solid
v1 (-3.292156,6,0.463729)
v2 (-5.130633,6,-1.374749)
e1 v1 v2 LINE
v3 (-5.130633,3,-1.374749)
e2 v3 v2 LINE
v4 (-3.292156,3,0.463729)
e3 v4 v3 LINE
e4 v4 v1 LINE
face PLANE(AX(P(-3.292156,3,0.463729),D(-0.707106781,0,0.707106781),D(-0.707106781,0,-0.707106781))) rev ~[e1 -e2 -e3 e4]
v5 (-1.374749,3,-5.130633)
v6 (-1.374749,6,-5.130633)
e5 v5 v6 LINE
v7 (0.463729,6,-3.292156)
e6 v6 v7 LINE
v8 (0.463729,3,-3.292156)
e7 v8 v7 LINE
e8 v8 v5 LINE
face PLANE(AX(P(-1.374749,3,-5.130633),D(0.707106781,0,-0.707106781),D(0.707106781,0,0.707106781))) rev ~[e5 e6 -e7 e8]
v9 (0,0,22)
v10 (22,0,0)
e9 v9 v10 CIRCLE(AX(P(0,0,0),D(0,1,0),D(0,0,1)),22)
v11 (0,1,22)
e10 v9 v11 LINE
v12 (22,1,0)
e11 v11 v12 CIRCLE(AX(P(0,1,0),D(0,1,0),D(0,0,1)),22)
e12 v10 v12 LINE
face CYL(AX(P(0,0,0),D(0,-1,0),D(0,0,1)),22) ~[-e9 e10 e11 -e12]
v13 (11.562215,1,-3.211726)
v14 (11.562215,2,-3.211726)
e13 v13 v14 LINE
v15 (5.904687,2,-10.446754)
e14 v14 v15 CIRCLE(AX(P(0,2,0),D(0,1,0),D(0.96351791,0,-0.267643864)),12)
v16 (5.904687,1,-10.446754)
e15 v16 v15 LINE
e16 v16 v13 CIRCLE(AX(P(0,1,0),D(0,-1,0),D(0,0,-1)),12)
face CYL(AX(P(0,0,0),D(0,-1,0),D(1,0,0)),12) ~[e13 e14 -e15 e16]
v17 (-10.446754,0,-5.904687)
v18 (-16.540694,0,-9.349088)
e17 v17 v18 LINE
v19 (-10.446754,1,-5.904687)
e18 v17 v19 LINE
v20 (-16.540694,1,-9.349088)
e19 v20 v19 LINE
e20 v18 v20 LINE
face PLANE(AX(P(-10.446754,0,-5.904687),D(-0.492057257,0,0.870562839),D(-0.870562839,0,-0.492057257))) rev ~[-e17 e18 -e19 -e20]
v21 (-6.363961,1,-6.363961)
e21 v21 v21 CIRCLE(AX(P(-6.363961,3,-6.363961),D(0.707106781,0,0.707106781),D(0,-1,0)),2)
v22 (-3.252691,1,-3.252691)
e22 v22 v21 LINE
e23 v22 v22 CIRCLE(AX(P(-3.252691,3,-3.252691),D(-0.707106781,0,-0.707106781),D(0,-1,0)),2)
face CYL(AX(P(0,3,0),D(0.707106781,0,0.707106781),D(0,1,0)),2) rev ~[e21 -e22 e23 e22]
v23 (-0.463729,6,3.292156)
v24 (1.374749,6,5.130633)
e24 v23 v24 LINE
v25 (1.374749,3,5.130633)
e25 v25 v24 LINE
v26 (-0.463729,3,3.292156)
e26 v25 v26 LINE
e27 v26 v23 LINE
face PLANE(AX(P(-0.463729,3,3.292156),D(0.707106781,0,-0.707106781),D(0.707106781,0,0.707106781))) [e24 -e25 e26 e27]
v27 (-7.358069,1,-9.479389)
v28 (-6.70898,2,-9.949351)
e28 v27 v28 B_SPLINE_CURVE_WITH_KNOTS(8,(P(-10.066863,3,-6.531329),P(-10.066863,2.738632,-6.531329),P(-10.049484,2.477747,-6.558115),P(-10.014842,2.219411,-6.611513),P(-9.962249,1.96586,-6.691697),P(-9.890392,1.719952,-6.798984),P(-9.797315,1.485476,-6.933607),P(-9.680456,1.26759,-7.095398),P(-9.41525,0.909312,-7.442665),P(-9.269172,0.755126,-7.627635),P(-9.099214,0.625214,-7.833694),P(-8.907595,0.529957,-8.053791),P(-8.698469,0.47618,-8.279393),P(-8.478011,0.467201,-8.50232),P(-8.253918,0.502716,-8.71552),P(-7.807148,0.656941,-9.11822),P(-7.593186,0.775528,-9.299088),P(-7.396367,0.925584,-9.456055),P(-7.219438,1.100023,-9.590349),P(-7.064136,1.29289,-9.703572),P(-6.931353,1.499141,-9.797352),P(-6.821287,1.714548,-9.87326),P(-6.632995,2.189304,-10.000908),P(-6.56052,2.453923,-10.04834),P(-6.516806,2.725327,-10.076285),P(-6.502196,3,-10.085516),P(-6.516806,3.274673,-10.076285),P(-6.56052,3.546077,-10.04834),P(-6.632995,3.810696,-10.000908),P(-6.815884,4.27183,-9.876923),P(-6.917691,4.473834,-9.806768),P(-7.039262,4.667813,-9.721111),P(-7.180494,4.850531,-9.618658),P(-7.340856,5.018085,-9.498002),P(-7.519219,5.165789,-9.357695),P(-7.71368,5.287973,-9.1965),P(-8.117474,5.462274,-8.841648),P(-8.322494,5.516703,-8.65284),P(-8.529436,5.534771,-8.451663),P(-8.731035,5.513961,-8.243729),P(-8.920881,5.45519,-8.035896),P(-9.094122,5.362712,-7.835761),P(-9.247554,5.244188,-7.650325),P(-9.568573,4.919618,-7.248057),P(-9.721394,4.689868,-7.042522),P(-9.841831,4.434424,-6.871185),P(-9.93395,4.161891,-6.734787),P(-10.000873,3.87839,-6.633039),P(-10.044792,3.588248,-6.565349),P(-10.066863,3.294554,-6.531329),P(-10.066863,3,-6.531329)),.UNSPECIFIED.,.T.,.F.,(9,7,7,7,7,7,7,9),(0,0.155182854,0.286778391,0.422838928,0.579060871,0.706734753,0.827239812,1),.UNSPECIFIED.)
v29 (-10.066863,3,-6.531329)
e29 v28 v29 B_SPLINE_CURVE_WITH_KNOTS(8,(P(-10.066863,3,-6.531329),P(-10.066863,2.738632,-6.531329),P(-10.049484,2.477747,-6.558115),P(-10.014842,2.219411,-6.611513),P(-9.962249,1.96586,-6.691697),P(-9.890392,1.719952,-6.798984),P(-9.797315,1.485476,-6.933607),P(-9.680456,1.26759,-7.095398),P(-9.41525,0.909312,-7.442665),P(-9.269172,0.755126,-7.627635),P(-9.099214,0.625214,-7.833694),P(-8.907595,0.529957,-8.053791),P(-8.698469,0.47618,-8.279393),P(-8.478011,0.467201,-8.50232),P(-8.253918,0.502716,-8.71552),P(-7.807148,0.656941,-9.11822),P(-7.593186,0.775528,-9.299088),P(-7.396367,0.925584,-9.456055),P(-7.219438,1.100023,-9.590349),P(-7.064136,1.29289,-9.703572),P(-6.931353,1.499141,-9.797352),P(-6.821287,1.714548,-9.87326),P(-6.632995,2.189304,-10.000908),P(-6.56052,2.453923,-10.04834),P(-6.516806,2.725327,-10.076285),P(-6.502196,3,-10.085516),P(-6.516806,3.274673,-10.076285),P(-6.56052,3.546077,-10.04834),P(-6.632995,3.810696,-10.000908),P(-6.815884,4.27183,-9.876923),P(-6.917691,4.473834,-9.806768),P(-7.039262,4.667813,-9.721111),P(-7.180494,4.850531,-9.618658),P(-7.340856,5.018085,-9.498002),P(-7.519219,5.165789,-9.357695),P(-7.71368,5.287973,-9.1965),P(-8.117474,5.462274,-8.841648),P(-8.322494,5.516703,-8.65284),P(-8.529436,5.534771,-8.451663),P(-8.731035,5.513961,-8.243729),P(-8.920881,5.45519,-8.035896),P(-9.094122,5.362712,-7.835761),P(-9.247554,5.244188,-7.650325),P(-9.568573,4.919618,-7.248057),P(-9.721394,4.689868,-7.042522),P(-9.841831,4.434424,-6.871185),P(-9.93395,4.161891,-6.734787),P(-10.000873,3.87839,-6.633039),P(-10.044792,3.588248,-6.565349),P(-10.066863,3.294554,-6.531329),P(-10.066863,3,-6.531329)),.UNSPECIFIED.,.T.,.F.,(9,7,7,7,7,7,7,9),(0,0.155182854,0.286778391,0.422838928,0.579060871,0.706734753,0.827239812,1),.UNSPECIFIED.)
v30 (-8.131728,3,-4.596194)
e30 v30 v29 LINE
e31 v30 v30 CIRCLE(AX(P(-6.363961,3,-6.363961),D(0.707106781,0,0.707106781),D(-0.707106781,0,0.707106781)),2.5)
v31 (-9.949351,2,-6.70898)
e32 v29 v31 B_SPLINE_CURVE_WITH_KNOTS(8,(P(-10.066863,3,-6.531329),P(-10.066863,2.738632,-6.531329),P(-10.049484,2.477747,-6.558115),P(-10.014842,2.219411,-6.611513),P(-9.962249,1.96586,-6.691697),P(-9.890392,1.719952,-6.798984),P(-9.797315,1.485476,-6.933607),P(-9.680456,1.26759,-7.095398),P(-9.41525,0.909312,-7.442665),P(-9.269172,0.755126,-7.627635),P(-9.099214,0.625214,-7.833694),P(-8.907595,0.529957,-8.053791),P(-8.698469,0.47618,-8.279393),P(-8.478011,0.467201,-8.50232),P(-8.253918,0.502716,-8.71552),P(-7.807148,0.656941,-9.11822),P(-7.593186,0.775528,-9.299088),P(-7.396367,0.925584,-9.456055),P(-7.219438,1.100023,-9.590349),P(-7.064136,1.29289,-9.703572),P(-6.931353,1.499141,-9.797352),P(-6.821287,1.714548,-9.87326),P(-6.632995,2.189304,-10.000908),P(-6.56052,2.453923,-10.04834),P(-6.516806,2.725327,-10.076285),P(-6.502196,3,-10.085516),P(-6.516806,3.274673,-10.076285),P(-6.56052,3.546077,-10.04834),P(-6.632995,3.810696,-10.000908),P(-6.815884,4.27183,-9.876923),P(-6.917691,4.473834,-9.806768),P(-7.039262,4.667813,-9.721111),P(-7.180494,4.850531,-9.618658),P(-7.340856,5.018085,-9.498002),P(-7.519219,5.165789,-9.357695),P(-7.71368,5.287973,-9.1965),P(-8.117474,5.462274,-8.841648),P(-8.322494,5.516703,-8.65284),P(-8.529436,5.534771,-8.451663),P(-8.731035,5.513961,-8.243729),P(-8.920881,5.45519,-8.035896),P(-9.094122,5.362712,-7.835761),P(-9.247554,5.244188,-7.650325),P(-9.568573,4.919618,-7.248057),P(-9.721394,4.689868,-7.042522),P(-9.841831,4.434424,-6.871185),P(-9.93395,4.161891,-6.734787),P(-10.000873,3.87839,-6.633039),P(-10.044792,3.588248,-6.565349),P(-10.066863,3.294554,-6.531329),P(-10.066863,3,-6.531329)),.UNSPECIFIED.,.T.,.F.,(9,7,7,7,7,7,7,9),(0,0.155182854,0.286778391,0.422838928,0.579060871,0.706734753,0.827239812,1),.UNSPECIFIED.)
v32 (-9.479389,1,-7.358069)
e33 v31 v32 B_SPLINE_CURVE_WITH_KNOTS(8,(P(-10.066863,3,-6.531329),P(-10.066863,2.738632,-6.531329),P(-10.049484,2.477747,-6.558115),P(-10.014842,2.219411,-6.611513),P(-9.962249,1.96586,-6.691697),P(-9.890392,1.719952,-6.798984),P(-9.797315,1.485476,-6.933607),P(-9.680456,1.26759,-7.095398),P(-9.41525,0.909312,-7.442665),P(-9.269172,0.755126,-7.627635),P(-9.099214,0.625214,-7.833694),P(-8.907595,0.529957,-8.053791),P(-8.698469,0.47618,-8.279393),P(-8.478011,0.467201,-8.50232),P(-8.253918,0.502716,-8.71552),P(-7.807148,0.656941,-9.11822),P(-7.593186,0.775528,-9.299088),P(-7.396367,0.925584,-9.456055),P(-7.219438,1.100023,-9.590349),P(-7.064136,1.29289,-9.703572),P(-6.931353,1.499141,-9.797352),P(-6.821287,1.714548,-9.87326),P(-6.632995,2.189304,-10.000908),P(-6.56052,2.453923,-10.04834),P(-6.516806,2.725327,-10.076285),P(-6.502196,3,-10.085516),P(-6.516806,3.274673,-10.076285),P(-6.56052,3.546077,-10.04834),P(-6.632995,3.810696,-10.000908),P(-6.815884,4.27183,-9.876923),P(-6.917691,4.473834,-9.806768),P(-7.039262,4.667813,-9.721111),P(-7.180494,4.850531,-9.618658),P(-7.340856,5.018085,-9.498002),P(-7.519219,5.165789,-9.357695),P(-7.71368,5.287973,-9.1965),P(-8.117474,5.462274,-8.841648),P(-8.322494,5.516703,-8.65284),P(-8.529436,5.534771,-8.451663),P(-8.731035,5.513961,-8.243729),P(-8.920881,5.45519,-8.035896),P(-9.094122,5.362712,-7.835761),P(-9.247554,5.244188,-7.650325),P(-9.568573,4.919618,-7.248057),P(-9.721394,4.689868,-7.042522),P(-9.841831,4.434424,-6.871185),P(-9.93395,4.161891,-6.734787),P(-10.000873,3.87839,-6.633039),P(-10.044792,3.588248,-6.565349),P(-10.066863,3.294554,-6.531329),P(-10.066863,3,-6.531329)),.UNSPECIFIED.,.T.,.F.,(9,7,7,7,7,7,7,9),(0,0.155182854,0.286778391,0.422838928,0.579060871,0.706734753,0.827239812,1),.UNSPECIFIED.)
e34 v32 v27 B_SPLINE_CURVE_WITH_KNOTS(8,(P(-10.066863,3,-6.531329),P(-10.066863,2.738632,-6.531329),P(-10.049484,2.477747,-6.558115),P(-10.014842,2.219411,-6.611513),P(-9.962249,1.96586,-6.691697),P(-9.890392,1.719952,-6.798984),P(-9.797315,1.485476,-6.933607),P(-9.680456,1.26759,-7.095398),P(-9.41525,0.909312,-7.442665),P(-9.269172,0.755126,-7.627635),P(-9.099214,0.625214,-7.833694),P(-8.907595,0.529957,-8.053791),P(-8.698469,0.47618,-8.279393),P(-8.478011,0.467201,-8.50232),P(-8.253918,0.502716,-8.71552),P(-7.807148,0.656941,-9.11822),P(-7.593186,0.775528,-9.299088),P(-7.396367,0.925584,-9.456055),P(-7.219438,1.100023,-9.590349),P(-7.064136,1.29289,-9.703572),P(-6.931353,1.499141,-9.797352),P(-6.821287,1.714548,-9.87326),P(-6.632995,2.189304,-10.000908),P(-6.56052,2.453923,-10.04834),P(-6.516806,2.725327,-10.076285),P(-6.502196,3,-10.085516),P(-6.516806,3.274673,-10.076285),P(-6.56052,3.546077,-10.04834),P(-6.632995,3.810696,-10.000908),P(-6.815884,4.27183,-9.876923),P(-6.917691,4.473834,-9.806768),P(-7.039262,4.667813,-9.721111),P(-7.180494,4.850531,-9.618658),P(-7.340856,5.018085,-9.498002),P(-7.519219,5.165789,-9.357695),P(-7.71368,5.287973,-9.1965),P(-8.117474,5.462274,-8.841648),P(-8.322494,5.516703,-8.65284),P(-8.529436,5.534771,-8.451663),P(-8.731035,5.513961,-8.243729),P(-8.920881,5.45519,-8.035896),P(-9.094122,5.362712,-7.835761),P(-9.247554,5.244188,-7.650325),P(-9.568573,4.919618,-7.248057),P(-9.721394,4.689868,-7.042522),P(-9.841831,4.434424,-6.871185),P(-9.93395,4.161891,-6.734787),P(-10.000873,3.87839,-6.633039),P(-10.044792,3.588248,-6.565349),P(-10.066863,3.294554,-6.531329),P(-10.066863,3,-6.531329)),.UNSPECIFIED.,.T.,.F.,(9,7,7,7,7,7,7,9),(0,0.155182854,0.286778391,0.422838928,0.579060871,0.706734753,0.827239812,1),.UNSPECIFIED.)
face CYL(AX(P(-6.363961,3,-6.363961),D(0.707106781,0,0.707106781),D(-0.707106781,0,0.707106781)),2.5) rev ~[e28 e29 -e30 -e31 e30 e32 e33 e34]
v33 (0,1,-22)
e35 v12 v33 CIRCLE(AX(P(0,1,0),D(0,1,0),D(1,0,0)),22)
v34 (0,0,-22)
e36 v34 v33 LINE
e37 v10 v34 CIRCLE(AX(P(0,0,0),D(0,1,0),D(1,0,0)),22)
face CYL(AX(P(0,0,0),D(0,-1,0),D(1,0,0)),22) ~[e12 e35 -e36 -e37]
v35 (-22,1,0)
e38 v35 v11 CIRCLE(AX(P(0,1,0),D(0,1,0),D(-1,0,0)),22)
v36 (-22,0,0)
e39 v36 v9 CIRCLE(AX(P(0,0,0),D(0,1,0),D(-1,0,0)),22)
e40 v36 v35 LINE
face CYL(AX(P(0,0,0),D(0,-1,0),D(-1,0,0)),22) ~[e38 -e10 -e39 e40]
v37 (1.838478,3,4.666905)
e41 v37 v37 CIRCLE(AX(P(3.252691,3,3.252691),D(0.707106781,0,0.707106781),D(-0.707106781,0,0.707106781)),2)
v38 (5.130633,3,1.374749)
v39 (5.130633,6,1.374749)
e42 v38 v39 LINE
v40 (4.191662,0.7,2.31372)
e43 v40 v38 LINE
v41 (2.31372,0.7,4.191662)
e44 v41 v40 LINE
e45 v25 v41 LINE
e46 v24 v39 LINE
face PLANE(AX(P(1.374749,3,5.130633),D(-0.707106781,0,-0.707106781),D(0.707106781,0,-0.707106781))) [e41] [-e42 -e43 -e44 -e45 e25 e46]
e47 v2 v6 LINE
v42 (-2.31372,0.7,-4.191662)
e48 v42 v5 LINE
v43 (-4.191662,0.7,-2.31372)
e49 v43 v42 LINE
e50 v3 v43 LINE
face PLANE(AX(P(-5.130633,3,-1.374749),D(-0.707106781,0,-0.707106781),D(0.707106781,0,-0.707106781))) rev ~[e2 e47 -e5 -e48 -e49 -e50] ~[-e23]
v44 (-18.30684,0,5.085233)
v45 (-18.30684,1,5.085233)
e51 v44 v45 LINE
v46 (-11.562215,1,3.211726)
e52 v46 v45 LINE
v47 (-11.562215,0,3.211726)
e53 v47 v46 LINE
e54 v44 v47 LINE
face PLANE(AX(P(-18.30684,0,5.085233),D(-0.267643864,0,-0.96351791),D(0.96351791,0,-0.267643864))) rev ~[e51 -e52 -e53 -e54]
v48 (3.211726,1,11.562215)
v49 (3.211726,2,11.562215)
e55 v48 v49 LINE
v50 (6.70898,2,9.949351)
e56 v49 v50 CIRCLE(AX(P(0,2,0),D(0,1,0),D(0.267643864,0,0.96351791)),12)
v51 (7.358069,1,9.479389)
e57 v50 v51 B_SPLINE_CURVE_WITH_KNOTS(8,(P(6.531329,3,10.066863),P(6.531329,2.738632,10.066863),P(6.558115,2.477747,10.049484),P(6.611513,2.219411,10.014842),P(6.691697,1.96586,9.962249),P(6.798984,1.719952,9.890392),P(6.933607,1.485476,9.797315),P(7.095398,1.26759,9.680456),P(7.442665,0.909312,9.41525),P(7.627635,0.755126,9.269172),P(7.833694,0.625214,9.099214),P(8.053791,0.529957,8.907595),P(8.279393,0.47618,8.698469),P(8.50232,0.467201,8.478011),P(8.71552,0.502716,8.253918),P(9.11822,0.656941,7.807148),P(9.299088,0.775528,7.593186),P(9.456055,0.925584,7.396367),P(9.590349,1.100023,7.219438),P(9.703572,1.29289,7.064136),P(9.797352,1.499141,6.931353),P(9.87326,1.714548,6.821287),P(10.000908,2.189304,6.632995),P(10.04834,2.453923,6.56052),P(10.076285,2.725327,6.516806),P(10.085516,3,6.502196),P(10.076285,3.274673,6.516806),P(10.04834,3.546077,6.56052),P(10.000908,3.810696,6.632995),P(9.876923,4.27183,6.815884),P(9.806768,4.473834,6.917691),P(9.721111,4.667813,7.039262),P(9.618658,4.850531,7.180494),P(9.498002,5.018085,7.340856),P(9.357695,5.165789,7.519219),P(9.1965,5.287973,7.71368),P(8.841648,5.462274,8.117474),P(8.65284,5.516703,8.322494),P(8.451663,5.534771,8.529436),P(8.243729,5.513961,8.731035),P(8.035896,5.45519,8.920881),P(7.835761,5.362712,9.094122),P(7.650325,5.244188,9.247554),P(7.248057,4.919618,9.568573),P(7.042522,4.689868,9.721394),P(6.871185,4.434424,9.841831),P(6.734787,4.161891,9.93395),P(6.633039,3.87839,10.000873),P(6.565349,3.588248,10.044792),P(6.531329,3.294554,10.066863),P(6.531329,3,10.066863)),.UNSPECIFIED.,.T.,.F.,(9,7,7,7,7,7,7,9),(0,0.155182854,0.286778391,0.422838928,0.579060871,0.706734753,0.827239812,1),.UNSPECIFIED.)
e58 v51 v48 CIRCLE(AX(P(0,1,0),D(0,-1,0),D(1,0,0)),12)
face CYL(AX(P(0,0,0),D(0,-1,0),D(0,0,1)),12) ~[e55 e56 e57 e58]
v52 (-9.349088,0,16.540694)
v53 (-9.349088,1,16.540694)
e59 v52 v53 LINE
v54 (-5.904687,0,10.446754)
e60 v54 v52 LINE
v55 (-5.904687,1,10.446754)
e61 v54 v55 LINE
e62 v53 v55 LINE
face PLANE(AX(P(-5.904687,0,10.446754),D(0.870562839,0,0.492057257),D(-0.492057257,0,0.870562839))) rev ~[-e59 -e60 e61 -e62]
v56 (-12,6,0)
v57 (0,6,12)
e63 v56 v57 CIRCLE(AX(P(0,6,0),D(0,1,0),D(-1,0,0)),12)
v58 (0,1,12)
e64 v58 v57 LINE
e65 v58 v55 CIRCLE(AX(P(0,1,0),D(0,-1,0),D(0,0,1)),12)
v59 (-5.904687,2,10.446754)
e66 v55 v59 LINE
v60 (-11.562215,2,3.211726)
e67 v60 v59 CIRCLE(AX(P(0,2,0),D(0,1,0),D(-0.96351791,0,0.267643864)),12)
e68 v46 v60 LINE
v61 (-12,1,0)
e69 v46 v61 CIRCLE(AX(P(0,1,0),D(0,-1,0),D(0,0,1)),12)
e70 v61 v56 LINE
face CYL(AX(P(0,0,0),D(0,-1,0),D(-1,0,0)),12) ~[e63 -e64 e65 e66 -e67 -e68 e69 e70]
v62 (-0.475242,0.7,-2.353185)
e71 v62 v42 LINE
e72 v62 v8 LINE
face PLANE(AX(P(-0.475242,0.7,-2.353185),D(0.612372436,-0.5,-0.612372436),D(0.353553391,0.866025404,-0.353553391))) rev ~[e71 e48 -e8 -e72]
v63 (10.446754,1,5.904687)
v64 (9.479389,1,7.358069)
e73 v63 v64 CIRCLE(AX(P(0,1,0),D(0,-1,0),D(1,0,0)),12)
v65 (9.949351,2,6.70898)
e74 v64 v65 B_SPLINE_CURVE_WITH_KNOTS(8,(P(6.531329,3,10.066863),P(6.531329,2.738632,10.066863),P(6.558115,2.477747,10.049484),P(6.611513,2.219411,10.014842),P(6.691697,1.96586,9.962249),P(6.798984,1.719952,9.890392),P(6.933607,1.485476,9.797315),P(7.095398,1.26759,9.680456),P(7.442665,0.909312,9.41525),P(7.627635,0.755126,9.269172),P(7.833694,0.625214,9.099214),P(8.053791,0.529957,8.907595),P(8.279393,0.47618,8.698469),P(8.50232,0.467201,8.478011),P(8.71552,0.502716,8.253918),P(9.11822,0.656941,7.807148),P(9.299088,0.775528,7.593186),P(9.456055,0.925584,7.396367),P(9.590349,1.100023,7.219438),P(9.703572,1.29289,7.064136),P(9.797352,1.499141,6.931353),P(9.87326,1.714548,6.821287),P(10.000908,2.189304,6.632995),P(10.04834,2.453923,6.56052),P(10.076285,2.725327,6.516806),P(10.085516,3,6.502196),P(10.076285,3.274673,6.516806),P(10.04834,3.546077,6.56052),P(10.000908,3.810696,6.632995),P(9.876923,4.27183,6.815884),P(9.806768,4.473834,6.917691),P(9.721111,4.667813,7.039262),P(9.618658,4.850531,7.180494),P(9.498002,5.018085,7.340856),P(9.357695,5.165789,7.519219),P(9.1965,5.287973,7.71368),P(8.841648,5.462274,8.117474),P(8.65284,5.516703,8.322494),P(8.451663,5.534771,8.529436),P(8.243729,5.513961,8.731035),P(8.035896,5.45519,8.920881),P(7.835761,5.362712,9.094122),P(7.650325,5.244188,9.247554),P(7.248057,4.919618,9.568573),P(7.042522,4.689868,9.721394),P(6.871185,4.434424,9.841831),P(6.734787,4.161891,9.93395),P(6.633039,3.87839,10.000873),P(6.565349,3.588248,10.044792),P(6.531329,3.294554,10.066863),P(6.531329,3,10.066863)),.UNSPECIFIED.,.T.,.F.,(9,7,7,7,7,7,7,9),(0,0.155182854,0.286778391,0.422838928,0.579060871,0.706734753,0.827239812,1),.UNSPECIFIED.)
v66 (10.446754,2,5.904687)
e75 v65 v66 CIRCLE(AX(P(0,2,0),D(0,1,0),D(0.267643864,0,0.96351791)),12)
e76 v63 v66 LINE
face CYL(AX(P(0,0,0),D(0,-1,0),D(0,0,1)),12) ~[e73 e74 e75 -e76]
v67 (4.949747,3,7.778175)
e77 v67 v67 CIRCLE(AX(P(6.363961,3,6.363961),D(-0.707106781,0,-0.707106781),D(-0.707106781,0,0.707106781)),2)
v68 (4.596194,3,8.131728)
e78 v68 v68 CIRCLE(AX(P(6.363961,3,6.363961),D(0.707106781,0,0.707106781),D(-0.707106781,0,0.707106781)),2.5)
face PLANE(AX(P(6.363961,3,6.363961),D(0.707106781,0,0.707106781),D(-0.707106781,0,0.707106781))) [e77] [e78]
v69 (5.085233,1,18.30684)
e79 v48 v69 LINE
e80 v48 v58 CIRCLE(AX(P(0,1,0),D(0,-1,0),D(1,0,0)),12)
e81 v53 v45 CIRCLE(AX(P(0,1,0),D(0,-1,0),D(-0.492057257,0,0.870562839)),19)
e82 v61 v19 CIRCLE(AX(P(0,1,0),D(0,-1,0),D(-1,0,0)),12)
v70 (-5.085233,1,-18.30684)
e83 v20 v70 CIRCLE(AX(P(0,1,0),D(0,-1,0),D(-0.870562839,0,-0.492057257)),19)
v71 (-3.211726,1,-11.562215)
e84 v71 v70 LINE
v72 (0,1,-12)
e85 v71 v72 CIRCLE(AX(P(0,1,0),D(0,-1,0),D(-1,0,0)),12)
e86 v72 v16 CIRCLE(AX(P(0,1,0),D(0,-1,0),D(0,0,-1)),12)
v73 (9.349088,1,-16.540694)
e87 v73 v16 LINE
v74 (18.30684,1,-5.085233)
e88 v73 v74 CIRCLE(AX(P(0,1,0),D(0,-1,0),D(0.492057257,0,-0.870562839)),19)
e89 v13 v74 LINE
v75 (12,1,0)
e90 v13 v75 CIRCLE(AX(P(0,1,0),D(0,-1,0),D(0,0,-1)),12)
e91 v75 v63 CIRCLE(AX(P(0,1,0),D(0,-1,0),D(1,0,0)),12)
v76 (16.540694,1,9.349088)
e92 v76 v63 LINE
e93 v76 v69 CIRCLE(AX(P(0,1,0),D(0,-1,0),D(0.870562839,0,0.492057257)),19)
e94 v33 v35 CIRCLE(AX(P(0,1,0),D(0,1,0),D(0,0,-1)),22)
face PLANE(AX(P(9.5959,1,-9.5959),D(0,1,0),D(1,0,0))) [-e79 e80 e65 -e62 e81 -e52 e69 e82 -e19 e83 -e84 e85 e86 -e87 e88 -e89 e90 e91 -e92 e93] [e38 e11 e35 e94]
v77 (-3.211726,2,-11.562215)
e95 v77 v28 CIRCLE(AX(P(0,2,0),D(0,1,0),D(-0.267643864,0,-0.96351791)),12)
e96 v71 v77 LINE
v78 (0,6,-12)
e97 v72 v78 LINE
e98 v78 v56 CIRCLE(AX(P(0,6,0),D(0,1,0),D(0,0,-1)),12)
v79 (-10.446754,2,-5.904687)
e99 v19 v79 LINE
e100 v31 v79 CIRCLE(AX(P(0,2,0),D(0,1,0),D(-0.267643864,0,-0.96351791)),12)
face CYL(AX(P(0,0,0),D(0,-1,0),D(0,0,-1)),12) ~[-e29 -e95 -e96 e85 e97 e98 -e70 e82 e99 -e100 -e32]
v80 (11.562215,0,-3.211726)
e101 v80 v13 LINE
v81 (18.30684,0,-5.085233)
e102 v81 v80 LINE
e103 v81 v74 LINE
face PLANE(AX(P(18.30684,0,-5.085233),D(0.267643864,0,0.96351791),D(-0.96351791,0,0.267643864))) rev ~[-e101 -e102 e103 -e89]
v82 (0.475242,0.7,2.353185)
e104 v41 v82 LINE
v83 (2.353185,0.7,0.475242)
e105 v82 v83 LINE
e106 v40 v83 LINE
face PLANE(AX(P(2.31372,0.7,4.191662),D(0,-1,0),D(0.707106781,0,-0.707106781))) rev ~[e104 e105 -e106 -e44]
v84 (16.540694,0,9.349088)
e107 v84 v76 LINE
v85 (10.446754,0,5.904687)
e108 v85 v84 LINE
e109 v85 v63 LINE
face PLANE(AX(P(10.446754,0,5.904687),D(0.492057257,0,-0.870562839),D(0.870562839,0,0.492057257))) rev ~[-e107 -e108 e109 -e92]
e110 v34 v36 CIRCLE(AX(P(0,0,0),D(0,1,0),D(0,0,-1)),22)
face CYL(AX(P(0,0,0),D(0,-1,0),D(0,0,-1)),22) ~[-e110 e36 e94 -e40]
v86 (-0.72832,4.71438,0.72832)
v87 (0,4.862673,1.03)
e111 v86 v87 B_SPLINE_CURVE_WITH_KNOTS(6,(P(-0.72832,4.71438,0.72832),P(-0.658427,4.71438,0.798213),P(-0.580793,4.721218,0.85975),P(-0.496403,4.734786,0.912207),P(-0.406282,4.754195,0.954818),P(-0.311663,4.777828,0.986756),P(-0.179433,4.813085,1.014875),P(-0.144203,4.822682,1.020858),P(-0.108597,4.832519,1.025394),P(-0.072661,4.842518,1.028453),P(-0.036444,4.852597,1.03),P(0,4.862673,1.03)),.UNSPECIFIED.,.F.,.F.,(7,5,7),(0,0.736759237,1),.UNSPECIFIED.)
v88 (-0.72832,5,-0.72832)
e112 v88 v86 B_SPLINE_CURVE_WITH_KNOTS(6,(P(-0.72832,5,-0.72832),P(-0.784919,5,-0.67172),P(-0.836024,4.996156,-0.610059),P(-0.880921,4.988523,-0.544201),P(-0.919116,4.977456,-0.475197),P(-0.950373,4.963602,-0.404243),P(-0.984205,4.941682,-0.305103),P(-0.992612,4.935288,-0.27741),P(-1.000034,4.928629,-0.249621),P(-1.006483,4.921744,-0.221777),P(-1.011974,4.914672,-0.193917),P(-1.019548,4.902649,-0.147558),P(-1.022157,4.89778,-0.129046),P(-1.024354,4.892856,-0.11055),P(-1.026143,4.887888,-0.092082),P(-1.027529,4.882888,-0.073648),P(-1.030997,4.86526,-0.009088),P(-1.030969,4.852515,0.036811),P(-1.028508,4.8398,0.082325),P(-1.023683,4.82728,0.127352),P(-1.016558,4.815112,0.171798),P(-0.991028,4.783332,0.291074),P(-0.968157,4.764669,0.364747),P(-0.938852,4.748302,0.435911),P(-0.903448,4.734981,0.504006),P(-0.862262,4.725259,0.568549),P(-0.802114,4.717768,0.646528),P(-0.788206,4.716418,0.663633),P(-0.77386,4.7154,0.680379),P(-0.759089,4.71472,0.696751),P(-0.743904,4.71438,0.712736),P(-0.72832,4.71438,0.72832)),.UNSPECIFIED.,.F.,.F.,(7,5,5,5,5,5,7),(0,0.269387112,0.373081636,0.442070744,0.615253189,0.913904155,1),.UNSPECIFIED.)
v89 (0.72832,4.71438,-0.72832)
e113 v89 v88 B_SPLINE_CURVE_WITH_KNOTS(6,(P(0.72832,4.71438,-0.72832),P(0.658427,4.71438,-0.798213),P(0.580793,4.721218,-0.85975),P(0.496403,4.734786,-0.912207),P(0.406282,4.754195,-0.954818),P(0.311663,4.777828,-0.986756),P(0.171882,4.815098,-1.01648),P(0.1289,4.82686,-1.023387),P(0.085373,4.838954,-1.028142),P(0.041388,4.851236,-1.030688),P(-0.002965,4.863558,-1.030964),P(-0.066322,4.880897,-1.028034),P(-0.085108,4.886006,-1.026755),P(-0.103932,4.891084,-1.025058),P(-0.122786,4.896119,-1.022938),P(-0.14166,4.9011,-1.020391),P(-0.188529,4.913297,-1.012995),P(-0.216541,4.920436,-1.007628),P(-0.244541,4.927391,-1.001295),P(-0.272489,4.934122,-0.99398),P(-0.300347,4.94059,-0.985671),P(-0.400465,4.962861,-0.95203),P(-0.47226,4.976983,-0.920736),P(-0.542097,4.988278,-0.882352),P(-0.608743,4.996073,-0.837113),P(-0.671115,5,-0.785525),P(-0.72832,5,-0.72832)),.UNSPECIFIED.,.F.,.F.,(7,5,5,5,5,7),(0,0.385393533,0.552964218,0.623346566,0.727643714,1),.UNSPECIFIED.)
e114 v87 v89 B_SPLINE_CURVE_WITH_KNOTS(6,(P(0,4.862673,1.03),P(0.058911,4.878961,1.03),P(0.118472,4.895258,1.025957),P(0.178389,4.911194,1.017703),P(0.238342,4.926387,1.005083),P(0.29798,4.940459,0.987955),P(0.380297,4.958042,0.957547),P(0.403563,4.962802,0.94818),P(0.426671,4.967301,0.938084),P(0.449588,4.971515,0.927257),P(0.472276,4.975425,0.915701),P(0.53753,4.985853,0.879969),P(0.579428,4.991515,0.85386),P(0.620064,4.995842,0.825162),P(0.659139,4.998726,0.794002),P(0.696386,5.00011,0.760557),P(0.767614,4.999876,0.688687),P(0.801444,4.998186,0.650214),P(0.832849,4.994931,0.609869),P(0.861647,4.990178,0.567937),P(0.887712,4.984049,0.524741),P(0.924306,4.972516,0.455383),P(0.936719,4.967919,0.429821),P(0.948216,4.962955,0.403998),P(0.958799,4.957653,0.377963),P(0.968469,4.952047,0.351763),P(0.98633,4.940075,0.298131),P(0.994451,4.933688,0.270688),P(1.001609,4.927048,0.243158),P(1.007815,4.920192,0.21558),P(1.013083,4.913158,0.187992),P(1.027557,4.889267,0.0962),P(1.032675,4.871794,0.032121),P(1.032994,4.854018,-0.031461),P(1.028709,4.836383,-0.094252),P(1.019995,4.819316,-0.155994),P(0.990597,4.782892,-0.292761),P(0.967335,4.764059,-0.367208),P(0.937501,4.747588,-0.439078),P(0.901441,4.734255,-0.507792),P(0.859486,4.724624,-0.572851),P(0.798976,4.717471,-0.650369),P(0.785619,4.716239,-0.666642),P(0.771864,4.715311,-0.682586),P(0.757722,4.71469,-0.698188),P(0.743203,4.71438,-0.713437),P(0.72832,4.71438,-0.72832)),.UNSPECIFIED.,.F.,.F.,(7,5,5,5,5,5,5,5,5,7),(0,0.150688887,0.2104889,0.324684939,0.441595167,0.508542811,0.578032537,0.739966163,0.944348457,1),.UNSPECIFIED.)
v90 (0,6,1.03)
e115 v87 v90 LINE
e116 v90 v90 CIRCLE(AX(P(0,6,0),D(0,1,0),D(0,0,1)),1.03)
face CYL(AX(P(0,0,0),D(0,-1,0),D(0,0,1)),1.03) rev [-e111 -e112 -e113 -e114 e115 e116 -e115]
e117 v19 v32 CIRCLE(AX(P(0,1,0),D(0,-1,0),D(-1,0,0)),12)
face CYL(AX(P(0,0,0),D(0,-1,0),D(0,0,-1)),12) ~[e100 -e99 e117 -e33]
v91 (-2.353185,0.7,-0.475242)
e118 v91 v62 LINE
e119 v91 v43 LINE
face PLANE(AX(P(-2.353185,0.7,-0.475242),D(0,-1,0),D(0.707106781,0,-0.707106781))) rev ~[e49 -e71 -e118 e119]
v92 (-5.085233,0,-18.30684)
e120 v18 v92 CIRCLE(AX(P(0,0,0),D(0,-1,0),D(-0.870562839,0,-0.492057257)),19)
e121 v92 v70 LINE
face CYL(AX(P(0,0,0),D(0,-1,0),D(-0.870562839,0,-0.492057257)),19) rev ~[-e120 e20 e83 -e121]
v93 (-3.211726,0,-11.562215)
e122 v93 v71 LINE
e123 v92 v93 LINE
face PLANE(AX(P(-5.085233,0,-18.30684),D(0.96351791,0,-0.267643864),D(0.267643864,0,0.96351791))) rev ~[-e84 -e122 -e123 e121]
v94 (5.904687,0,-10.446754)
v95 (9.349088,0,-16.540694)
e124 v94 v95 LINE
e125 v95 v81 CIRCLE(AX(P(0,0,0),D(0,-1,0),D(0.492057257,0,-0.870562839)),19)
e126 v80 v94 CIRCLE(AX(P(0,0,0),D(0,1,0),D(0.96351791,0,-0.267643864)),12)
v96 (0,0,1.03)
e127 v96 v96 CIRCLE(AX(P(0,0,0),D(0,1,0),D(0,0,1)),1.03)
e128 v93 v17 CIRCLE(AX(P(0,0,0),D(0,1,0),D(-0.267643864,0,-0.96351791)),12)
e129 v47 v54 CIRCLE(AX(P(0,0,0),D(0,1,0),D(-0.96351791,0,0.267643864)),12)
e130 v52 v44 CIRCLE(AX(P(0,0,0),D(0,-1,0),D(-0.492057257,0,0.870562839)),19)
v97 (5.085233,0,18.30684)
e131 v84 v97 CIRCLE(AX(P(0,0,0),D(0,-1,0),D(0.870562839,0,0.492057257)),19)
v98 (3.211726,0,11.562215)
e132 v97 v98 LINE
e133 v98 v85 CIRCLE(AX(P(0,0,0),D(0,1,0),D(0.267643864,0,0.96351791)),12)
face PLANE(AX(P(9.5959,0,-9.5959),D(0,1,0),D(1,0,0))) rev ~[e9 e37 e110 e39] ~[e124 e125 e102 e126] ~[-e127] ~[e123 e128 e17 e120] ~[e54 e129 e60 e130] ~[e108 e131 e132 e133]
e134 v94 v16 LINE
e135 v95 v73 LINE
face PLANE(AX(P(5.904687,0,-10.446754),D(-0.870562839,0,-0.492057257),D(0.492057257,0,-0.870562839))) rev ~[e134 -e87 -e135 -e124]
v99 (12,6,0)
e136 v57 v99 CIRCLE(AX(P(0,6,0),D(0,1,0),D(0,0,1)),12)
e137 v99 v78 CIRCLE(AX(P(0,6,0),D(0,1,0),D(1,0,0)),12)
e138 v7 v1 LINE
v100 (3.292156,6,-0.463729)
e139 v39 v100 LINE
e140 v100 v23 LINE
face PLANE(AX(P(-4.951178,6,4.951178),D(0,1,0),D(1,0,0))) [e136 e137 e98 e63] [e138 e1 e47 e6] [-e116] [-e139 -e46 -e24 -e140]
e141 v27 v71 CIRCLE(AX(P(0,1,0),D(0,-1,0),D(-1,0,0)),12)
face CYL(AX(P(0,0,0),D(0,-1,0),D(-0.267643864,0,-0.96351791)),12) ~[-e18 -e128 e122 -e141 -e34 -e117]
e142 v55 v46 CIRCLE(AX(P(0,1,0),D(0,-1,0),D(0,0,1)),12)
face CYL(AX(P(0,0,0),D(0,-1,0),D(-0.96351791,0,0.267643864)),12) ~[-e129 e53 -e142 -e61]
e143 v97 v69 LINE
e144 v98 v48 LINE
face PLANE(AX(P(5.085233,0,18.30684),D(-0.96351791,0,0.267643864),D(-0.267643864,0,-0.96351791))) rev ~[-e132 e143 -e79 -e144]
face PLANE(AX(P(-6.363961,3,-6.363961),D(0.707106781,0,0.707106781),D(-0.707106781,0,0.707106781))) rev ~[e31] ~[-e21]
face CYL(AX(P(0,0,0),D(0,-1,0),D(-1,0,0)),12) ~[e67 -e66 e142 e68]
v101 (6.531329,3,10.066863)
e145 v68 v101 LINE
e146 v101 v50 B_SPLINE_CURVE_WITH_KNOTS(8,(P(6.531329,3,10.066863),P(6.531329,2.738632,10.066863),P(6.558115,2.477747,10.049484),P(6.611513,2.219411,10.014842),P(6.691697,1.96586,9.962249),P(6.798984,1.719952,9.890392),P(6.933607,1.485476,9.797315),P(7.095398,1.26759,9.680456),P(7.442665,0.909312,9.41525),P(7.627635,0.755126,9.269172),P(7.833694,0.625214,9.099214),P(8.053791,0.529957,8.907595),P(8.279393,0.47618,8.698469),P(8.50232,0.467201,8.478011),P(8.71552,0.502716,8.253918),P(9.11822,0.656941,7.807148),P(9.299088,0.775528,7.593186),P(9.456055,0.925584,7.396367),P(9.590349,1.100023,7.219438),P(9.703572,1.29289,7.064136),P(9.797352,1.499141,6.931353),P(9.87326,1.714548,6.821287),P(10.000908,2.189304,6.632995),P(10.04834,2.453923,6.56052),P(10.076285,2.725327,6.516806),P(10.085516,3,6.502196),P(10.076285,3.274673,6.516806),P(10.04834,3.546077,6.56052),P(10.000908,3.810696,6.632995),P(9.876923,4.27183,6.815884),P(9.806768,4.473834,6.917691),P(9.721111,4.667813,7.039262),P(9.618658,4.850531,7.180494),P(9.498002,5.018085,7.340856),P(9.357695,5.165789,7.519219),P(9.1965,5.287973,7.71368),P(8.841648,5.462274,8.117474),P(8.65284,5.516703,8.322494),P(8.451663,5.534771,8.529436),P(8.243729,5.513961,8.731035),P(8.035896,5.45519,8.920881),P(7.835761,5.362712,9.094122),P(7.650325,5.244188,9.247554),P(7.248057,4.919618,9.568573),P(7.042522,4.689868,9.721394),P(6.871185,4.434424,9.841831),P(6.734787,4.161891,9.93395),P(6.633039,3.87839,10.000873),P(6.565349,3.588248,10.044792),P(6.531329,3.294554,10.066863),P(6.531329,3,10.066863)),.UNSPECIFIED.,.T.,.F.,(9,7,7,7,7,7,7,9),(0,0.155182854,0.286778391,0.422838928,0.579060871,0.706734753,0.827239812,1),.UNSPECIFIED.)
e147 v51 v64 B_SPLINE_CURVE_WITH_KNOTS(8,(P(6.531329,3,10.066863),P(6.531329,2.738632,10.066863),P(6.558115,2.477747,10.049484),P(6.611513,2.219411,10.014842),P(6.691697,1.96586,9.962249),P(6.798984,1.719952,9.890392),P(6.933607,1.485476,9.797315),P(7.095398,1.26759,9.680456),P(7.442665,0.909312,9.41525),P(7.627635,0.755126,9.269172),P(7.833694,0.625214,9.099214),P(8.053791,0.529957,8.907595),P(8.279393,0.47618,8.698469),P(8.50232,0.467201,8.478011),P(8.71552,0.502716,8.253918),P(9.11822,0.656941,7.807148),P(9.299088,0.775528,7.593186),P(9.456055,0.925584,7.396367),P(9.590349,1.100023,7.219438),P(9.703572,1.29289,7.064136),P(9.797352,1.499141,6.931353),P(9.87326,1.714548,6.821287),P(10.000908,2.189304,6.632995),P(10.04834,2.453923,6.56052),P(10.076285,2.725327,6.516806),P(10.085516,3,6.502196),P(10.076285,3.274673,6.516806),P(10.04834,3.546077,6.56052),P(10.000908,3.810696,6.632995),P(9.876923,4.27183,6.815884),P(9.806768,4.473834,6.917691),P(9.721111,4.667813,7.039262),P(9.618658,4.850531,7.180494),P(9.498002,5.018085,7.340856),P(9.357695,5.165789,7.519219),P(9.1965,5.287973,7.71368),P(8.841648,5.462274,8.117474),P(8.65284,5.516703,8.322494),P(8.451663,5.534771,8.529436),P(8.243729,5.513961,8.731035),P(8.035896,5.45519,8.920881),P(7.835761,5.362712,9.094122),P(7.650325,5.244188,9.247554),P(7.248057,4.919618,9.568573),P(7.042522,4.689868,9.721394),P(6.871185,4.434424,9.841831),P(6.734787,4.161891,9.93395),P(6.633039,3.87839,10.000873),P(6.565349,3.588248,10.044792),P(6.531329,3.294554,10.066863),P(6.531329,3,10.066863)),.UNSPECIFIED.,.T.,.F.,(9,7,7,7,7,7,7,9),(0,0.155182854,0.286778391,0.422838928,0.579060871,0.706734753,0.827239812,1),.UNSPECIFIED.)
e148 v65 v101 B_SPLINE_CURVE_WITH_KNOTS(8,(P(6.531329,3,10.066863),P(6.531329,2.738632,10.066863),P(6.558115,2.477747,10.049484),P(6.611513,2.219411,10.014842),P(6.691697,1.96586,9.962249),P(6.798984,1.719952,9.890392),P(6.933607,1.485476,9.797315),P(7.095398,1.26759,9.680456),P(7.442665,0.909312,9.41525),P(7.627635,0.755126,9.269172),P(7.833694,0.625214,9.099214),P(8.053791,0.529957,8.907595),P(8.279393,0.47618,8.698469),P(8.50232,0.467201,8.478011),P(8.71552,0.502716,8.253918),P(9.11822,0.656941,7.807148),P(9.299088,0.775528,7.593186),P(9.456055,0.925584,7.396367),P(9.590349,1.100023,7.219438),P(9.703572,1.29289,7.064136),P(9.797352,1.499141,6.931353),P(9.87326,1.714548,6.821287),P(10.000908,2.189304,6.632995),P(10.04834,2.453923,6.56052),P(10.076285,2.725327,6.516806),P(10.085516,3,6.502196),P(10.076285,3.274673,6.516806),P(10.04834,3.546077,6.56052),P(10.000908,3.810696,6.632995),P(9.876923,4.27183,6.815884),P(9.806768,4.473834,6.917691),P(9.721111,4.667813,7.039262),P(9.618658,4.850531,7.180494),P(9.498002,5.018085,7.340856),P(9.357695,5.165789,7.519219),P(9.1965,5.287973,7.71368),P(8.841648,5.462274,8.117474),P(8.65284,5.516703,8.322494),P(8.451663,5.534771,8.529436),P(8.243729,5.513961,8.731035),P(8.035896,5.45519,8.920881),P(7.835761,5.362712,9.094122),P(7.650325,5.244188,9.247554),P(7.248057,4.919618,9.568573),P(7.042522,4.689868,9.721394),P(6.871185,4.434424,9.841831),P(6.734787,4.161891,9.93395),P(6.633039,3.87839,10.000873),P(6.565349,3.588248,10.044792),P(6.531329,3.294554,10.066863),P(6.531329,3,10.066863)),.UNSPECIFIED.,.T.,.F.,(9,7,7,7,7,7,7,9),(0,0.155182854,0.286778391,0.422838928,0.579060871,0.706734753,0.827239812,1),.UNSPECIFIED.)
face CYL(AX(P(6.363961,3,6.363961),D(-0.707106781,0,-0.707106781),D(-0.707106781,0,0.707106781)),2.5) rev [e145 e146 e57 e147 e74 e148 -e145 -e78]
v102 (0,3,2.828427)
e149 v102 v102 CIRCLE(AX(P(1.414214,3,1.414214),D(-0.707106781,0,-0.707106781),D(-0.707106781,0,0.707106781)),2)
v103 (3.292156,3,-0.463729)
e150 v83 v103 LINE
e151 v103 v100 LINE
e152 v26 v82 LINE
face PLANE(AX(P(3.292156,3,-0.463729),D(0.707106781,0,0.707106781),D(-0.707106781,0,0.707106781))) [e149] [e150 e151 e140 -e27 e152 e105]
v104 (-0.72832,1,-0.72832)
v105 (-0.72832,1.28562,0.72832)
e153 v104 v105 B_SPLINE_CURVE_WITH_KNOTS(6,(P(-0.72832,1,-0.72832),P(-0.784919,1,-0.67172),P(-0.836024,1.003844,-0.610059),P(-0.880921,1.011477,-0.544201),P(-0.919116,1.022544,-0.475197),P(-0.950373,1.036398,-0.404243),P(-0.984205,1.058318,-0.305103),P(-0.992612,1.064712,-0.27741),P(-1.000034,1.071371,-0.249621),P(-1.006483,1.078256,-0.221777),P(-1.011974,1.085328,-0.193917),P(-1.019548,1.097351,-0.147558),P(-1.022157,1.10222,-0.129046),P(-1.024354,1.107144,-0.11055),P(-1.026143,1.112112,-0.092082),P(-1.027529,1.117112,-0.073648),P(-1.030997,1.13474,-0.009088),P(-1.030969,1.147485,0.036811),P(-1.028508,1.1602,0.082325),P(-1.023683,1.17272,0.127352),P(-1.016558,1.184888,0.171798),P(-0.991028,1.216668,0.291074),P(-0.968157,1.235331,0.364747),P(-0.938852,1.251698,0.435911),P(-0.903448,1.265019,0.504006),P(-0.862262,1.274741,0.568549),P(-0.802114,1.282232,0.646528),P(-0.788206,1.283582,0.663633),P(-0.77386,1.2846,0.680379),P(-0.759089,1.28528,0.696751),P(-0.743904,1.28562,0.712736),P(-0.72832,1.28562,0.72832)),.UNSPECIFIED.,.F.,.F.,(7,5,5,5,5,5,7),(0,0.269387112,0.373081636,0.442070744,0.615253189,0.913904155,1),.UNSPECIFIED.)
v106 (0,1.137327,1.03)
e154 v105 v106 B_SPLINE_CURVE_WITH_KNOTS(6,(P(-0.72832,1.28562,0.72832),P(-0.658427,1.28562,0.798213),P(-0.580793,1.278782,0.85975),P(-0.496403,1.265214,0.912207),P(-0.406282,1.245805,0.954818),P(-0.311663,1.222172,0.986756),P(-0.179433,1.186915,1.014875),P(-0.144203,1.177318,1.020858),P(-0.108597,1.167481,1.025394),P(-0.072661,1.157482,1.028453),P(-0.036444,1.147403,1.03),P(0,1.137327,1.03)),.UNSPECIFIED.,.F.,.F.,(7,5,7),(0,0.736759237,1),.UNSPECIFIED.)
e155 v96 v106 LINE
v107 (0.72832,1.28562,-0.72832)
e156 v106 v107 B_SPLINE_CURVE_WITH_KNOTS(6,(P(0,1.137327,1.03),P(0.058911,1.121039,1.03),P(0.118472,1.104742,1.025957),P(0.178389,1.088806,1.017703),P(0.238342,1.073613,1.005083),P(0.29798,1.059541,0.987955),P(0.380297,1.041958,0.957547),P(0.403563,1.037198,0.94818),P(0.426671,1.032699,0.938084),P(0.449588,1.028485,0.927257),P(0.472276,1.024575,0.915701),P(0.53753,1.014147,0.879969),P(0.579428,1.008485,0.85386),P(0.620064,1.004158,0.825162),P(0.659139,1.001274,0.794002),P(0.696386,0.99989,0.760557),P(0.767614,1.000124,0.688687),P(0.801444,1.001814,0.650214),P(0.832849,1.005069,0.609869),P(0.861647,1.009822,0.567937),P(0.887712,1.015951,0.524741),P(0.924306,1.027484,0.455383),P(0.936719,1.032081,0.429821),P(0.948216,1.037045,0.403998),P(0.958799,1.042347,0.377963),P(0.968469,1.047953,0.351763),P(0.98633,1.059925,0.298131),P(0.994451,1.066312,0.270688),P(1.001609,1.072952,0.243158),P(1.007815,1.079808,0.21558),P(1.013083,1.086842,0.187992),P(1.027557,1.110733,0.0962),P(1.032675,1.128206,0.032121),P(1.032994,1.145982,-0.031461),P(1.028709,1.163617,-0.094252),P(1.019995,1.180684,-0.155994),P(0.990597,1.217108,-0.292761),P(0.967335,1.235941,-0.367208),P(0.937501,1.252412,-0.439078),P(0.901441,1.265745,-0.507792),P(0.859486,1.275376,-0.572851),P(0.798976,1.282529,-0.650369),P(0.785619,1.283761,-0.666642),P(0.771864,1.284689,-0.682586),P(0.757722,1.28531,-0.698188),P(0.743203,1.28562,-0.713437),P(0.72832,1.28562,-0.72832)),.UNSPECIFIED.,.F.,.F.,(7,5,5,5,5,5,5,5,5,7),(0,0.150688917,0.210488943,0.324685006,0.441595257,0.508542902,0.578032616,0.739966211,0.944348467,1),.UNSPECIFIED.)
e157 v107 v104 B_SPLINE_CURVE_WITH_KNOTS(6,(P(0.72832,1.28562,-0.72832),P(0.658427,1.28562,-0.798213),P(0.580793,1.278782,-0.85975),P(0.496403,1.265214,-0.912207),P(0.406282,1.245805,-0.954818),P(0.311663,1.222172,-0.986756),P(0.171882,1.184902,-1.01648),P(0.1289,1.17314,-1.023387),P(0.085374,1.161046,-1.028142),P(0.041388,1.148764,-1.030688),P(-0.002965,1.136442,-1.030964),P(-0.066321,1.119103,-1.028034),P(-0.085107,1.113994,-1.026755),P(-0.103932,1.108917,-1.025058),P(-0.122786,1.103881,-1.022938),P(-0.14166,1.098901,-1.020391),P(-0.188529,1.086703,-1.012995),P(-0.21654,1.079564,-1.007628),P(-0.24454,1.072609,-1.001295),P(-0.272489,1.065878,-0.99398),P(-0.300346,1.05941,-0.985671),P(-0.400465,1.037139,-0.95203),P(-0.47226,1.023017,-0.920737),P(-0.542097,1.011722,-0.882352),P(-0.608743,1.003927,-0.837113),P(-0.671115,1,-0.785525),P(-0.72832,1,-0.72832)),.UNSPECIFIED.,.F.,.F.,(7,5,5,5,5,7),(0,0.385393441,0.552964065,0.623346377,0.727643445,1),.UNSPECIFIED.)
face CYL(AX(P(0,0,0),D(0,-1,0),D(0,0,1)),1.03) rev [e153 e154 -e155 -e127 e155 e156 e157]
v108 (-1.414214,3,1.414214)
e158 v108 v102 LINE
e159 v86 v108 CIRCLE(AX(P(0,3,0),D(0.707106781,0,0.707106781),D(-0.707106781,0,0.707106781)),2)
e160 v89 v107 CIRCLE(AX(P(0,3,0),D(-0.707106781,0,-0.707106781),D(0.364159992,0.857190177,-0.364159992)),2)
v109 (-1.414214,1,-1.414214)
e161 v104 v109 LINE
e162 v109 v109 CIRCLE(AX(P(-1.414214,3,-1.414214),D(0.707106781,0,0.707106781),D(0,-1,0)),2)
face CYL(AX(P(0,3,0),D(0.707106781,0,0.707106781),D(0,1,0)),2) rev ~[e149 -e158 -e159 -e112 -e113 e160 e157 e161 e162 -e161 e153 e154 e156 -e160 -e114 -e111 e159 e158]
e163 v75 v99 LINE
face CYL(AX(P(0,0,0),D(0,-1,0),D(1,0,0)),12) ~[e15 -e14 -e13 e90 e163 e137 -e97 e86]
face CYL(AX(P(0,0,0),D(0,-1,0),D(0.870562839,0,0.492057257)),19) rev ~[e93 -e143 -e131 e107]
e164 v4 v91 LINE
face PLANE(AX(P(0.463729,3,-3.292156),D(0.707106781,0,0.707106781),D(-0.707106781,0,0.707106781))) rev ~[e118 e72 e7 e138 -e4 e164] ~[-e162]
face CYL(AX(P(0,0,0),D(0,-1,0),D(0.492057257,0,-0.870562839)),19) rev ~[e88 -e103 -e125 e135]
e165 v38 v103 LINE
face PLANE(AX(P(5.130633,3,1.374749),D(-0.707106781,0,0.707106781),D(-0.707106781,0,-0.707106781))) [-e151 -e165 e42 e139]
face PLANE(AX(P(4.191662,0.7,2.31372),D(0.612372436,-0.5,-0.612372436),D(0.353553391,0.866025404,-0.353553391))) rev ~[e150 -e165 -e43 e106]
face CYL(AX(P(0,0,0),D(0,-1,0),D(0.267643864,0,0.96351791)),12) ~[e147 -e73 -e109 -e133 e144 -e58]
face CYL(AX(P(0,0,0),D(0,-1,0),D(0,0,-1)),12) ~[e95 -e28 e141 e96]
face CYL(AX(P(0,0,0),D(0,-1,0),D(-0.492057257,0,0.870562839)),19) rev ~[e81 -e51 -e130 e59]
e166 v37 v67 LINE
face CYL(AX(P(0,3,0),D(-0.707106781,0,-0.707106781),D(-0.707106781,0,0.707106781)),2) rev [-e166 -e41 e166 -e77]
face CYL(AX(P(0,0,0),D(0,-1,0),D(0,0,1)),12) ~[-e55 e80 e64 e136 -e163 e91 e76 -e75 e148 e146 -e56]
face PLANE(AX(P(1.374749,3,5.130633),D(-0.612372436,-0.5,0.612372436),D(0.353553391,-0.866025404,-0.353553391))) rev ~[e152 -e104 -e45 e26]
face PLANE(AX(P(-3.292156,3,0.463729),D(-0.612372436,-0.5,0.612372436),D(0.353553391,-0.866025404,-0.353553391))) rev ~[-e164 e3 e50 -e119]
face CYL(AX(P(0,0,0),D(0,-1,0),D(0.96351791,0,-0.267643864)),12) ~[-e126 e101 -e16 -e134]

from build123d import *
from build123d.topology import SkipClean

# Parameters (mm, degrees)
SALIENTE_EXTRUIR4_DEPTH    = 6
CROQUIS10_R                = 1.03
SALIENTE_EXTRUIR5_DEPTH    = 3
CROQUIS10_3_R              = 1.03
CORTAR_EXTRUIR7_DEPTH      = 6
CORTAR_EXTRUIR8_REACH      = 20
CORTAR_EXTRUIR8_END_RADIUS = 12
CROQUIS11_R                = 2
CORTAR_EXTRUIR11_START     = 9
CROQUIS11_3_R              = 2.5
CORTAR_EXTRUIR11_DEPTH     = 10.000000167
CORTAR_EXTRUIR9_START      = 4.6
CORTAR_EXTRUIR9_DEPTH      = 2.6
CORTAR_EXTRUIR12_REACH     = 20
CORTAR_EXTRUIR10_START     = -3
CORTAR_EXTRUIR10_DEPTH     = 3
CORTAR_EXTRUIR13_START     = -9
CROQUIS11_5_R              = 2.5
CORTAR_EXTRUIR13_DEPTH     = 10.000000167
CORTAR_EXTRUIR14_START     = -2
CORTAR_EXTRUIR14_DEPTH     = 2.6
CORTAR_EXTRUIR15_START     = -3
CORTAR_EXTRUIR15_DEPTH     = 3
SALIENTE_EXTRUIR6_DEPTH    = 1
CORTAR_EXTRUIR17_DEPTH     = 2


with BuildPart() as part:
    # Croquis1 → Saliente-Extruir4 (new body)
    with BuildSketch(Plane(origin=(0, 0, 0), x_dir=(1, 0, 0), z_dir=(0, 1, 0))):
        with BuildLine():
            Line((0, -12), (0, 0))
            Line((0, 0), (-12, 0))
            ThreePointArc((-12, 0), (-8.485281374, -8.485281374), (0, -12))
        make_face()
        with BuildLine():
            Line((-12, 0), (0, 0))
            Line((0, 0), (0, 12))
            ThreePointArc((0, 12), (-8.485281374, 8.485281374), (-12, 0))
        make_face()
        with BuildLine():
            Line((0, 12), (0, 0))
            Line((0, 0), (12, 0))
            ThreePointArc((12, 0), (8.485281374, 8.485281374), (0, 12))
        make_face()
        with BuildLine():
            Line((12, 0), (0, 0))
            Line((0, 0), (0, -12))
            ThreePointArc((0, -12), (8.485281374, -8.485281374), (12, 0))
        make_face()
    extrude(amount=SALIENTE_EXTRUIR4_DEPTH)

    # Croquis10 → Saliente-Extruir5 (add)
    with BuildSketch(Plane(origin=(0, 0, 0), x_dir=(1, 0, 0), z_dir=(0, 1, 0))):
        Circle(CROQUIS10_R)
    extrude(amount=SALIENTE_EXTRUIR5_DEPTH)

    # Croquis10<3> → Cortar-Extruir7 (cut)
    with BuildSketch(Plane(origin=(0, 0, 0), x_dir=(1, 0, 0), z_dir=(0, 1, 0))):
        with Locations(Location((0, 0, 0), (0, 0, 270))):
            Circle(CROQUIS10_3_R)
    extrude(amount=CORTAR_EXTRUIR7_DEPTH, mode=Mode.SUBTRACT)

    # Cortar-Extruir8: up to this cylinder (the profile starts inside it)
    cortar_extruir8_end = Plane(origin=(0, 3, 0), z_dir=(0, -1, 0)) * Cylinder(CORTAR_EXTRUIR8_END_RADIUS, 65, mode=Mode.PRIVATE)
    # Croquis11 → Cortar-Extruir8 (cut, up to the surface)
    with BuildSketch(Plane(origin=(0, 0, 0), x_dir=(0.7071067811865477, 0, -0.7071067811865475), z_dir=(0.7071067811865475, 0, 0.7071067811865477)), mode=Mode.PRIVATE) as cortar_extruir8_sk1:
        with Locations(Location((0, 3, 0), (0, 0, 180))):
            Circle(CROQUIS11_R)
    cortar_extruir8_tool1 = extrude(cortar_extruir8_sk1.sketch, amount=CORTAR_EXTRUIR8_REACH, mode=Mode.PRIVATE) & cortar_extruir8_end
    add(cortar_extruir8_tool1.solids().sort_by_distance((0, 3, 0))[0], mode=Mode.SUBTRACT)

    # Croquis11<3> → Cortar-Extruir11 (cut, through all)
    with BuildSketch(Plane(origin=(0, 0, 0), x_dir=(0.7071067811865477, 0, -0.7071067811865475), z_dir=(0.7071067811865475, 0, 0.7071067811865477)).offset(CORTAR_EXTRUIR11_START)):
        with Locations(Location((0, 3, 0), (0, 0, 180))):
            Circle(CROQUIS11_3_R)
    extrude(amount=CORTAR_EXTRUIR11_DEPTH, mode=Mode.SUBTRACT)

    # Croquis14 → Cortar-Extruir9 (cut)
    with BuildSketch(Plane(origin=(0, 0, 0), x_dir=(0.7071067811865477, 0, -0.7071067811865475), z_dir=(0.7071067811865475, 0, 0.7071067811865477)).offset(CORTAR_EXTRUIR9_START)):
        Polygon((1.327905619, 5.3), (-1.327905619, 5.3), (-2.655811238, 3), (-1.327905619, 0.7), (1.327905619, 0.7), (2.655811238, 3), align=None)
    extrude(amount=-CORTAR_EXTRUIR9_DEPTH, mode=Mode.SUBTRACT)

    # Croquis11<4> → Cortar-Extruir12 (cut, up to next)
    with BuildSketch(Plane(origin=(0, 0, 0), x_dir=(0.7071067811865477, 0, -0.7071067811865475), z_dir=(0.7071067811865475, 0, 0.7071067811865477)), mode=Mode.PRIVATE) as cortar_extruir12_sk1:
        with BuildLine():
            ThreePointArc((2, 3), (1.414213562, 4.414213562), (0, 5))
            Line((0, 5), (0, 1))
            ThreePointArc((0, 1), (1.414213562, 1.585786438), (2, 3))
        make_face()
    cortar_extruir12_tool1 = extrude(cortar_extruir12_sk1.sketch, amount=-CORTAR_EXTRUIR12_REACH, mode=Mode.PRIVATE) & part.part
    # Croquis11<4> → Cortar-Extruir12 (cut, up to next)
    with BuildSketch(Plane(origin=(0, 0, 0), x_dir=(0.7071067811865477, 0, -0.7071067811865475), z_dir=(0.7071067811865475, 0, 0.7071067811865477)), mode=Mode.PRIVATE) as cortar_extruir12_sk2:
        with BuildLine():
            Line((0, 1), (0, 5))
            ThreePointArc((0, 5), (-2, 3), (0, 1))
        make_face()
    cortar_extruir12_tool2 = extrude(cortar_extruir12_sk2.sketch, amount=-CORTAR_EXTRUIR12_REACH, mode=Mode.PRIVATE) & part.part
    # Croquis11<4> → Cortar-Extruir12 (cut, up to next)
    with BuildSketch(Plane(origin=(0, 0, 0), x_dir=(0.7071067811865477, 0, -0.7071067811865475), z_dir=(0.7071067811865475, 0, 0.7071067811865477)), mode=Mode.PRIVATE) as cortar_extruir12_sk3:
        with BuildLine():
            ThreePointArc((2, 3), (1.414213562, 4.414213562), (0, 5))
            Line((0, 5), (0, 1))
            ThreePointArc((0, 1), (1.414213562, 1.585786438), (2, 3))
        make_face()
    cortar_extruir12_tool3 = extrude(cortar_extruir12_sk3.sketch, amount=-CORTAR_EXTRUIR12_REACH, mode=Mode.PRIVATE) & part.part
    # Croquis11<4> → Cortar-Extruir12 (cut, up to next)
    with BuildSketch(Plane(origin=(0, 0, 0), x_dir=(0.7071067811865477, 0, -0.7071067811865475), z_dir=(0.7071067811865475, 0, 0.7071067811865477)), mode=Mode.PRIVATE) as cortar_extruir12_sk4:
        with BuildLine():
            Line((0, 1), (0, 5))
            ThreePointArc((0, 5), (-2, 3), (0, 1))
        make_face()
    cortar_extruir12_tool4 = extrude(cortar_extruir12_sk4.sketch, amount=-CORTAR_EXTRUIR12_REACH, mode=Mode.PRIVATE) & part.part
    add(cortar_extruir12_tool1.solids().sort_by_distance((0.600211, 3, -0.600211))[0], mode=Mode.SUBTRACT)
    add(cortar_extruir12_tool2.solids().sort_by_distance((-0.600211, 3, 0.600211))[0], mode=Mode.SUBTRACT)
    add(cortar_extruir12_tool3.solids().sort_by_distance((0.600211, 3, -0.600211))[0], mode=Mode.SUBTRACT)
    add(cortar_extruir12_tool4.solids().sort_by_distance((-0.600211, 3, 0.600211))[0], mode=Mode.SUBTRACT)

    # Croquis16 → Cortar-Extruir10 (cut)
    with SkipClean():  # the faces are left unmerged after this step: merging them gives an invalid solid
        with BuildSketch(Plane(origin=(0, 6, 0), x_dir=(1, 0, 0), z_dir=(0, 1, 0)).offset(CORTAR_EXTRUIR10_START)):
            Polygon((-0.463728574, -3.292155699), (1.374749057, -5.13063333), (5.13063333, -1.374749057), (3.292155699, 0.463728574), align=None)
        extrude(amount=CORTAR_EXTRUIR10_DEPTH, mode=Mode.SUBTRACT)

    # Croquis11<5> → Cortar-Extruir13 (cut, through all)
    with BuildSketch(Plane(origin=(0, 0, 0), x_dir=(0.7071067811865477, 0, -0.7071067811865475), z_dir=(0.7071067811865475, 0, 0.7071067811865477)).offset(CORTAR_EXTRUIR13_START)):
        with Locations(Location((0, 3, 0), (0, 0, 180))):
            Circle(CROQUIS11_5_R)
    extrude(amount=-CORTAR_EXTRUIR13_DEPTH, mode=Mode.SUBTRACT)

    # Croquis14<2> → Cortar-Extruir14 (cut)
    with BuildSketch(Plane(origin=(0, 0, 0), x_dir=(0.7071067811865477, 0, -0.7071067811865475), z_dir=(0.7071067811865475, 0, 0.7071067811865477)).offset(CORTAR_EXTRUIR14_START)):
        Polygon((1.327905619, 5.3), (-1.327905619, 5.3), (-2.655811238, 3), (-1.327905619, 0.7), (1.327905619, 0.7), (2.655811238, 3), align=None)
    extrude(amount=-CORTAR_EXTRUIR14_DEPTH, mode=Mode.SUBTRACT)

    # Croquis18 → Cortar-Extruir15 (cut)
    with BuildSketch(Plane(origin=(0, 6, 0), x_dir=(1, 0, 0), z_dir=(0, 1, 0)).offset(CORTAR_EXTRUIR15_START)):
        Polygon((0.463728574, 3.292155699), (-3.292155699, -0.463728574), (-5.13063333, 1.374749057), (-1.374749057, 5.13063333), align=None)
    extrude(amount=CORTAR_EXTRUIR15_DEPTH, mode=Mode.SUBTRACT)

    # Croquis1<11> → Saliente-Extruir6 (add)
    with BuildSketch(Plane(origin=(0, 0, 0), x_dir=(1, 0, 0), z_dir=(0, 1, 0))):
        with BuildLine():
            Line((0, 19), (0, 12))
            ThreePointArc((0, 12), (8.485281374, 8.485281374), (12, 0))
            Line((12, 0), (19, 0))
            ThreePointArc((19, 0), (13.435028843, 13.435028843), (0, 19))
        make_face()
        with BuildLine():
            Line((0, 22), (0, 19))
            ThreePointArc((0, 19), (13.435028843, 13.435028843), (19, 0))
            Line((19, 0), (22, 0))
            ThreePointArc((22, 0), (15.556349186, 15.556349186), (0, 22))
        make_face()
        with BuildLine():
            Line((0, -22), (0, -19))
            ThreePointArc((0, -19), (-13.435028843, -13.435028843), (-19, 0))
            Line((-19, 0), (-22, 0))
            ThreePointArc((-22, 0), (-15.556349186, -15.556349186), (0, -22))
        make_face()
        with BuildLine():
            Line((0, -19), (0, -12))
            ThreePointArc((0, -12), (-8.485281374, -8.485281374), (-12, 0))
            Line((-12, 0), (-19, 0))
            ThreePointArc((-19, 0), (-13.435028843, -13.435028843), (0, -19))
        make_face()
        with BuildLine():
            Line((22, 0), (19, 0))
            ThreePointArc((19, 0), (13.435028843, -13.435028843), (0, -19))
            Line((0, -19), (0, -22))
            ThreePointArc((0, -22), (15.556349186, -15.556349186), (22, 0))
        make_face()
        with BuildLine():
            ThreePointArc((-19, 0), (-13.435028843, 13.435028843), (0, 19))
            Line((0, 19), (0, 22))
            ThreePointArc((0, 22), (-15.556349186, 15.556349186), (-22, 0))
            Line((-22, 0), (-19, 0))
        make_face()
        with BuildLine():
            Line((19, 0), (12, 0))
            ThreePointArc((12, 0), (8.485281374, -8.485281374), (0, -12))
            Line((0, -12), (0, -19))
            ThreePointArc((0, -19), (13.435028843, -13.435028843), (19, 0))
        make_face()
        with BuildLine():
            ThreePointArc((-12, 0), (-8.485281374, 8.485281374), (0, 12))
            Line((0, 12), (0, 19))
            ThreePointArc((0, 19), (-13.435028843, 13.435028843), (-19, 0))
            Line((-19, 0), (-12, 0))
        make_face()
    extrude(amount=SALIENTE_EXTRUIR6_DEPTH)

    # Croquis20 → Cortar-Extruir17 (cut)
    with SkipClean():  # the faces are left unmerged after this step: merging them gives an invalid solid
        with BuildSketch(Plane.XZ):
            with BuildLine():
                Line((5.085233412, 18.306840283), (3.211726365, 11.562214916))
                ThreePointArc((3.211726365, 11.562214916), (7.391916343, 9.453019242), (10.446754065, 5.90468708))
                Line((10.446754065, 5.90468708), (16.540693936, 9.349087877))
                ThreePointArc((16.540693936, 9.349087877), (11.703867543, 14.967280466), (5.085233412, 18.306840283))
            make_face()
            with BuildLine():
                Line((18.306840283, -5.085233412), (11.562214916, -3.211726365))
                ThreePointArc((11.562214916, -3.211726365), (9.453019242, -7.391916343), (5.90468708, -10.446754065))
                Line((5.90468708, -10.446754065), (9.349087877, -16.540693936))
                ThreePointArc((9.349087877, -16.540693936), (14.967280466, -11.703867543), (18.306840283, -5.085233412))
            make_face()
            with BuildLine():
                Line((-5.085233412, -18.306840283), (-3.211726365, -11.562214916))
                ThreePointArc((-3.211726365, -11.562214916), (-7.391916343, -9.453019242), (-10.446754065, -5.90468708))
                Line((-10.446754065, -5.90468708), (-16.540693936, -9.349087877))
                ThreePointArc((-16.540693936, -9.349087877), (-11.703867543, -14.967280466), (-5.085233412, -18.306840283))
            make_face()
            with BuildLine():
                Line((-18.306840283, 5.085233412), (-11.562214916, 3.211726365))
                ThreePointArc((-11.562214916, 3.211726365), (-9.453019242, 7.391916343), (-5.90468708, 10.446754065))
                Line((-5.90468708, 10.446754065), (-9.349087877, 16.540693936))
                ThreePointArc((-9.349087877, 16.540693936), (-14.967280466, 11.703867543), (-18.306840283, 5.085233412))
            make_face()
        extrude(amount=-CORTAR_EXTRUIR17_DEPTH, mode=Mode.SUBTRACT)


solid = part.part
